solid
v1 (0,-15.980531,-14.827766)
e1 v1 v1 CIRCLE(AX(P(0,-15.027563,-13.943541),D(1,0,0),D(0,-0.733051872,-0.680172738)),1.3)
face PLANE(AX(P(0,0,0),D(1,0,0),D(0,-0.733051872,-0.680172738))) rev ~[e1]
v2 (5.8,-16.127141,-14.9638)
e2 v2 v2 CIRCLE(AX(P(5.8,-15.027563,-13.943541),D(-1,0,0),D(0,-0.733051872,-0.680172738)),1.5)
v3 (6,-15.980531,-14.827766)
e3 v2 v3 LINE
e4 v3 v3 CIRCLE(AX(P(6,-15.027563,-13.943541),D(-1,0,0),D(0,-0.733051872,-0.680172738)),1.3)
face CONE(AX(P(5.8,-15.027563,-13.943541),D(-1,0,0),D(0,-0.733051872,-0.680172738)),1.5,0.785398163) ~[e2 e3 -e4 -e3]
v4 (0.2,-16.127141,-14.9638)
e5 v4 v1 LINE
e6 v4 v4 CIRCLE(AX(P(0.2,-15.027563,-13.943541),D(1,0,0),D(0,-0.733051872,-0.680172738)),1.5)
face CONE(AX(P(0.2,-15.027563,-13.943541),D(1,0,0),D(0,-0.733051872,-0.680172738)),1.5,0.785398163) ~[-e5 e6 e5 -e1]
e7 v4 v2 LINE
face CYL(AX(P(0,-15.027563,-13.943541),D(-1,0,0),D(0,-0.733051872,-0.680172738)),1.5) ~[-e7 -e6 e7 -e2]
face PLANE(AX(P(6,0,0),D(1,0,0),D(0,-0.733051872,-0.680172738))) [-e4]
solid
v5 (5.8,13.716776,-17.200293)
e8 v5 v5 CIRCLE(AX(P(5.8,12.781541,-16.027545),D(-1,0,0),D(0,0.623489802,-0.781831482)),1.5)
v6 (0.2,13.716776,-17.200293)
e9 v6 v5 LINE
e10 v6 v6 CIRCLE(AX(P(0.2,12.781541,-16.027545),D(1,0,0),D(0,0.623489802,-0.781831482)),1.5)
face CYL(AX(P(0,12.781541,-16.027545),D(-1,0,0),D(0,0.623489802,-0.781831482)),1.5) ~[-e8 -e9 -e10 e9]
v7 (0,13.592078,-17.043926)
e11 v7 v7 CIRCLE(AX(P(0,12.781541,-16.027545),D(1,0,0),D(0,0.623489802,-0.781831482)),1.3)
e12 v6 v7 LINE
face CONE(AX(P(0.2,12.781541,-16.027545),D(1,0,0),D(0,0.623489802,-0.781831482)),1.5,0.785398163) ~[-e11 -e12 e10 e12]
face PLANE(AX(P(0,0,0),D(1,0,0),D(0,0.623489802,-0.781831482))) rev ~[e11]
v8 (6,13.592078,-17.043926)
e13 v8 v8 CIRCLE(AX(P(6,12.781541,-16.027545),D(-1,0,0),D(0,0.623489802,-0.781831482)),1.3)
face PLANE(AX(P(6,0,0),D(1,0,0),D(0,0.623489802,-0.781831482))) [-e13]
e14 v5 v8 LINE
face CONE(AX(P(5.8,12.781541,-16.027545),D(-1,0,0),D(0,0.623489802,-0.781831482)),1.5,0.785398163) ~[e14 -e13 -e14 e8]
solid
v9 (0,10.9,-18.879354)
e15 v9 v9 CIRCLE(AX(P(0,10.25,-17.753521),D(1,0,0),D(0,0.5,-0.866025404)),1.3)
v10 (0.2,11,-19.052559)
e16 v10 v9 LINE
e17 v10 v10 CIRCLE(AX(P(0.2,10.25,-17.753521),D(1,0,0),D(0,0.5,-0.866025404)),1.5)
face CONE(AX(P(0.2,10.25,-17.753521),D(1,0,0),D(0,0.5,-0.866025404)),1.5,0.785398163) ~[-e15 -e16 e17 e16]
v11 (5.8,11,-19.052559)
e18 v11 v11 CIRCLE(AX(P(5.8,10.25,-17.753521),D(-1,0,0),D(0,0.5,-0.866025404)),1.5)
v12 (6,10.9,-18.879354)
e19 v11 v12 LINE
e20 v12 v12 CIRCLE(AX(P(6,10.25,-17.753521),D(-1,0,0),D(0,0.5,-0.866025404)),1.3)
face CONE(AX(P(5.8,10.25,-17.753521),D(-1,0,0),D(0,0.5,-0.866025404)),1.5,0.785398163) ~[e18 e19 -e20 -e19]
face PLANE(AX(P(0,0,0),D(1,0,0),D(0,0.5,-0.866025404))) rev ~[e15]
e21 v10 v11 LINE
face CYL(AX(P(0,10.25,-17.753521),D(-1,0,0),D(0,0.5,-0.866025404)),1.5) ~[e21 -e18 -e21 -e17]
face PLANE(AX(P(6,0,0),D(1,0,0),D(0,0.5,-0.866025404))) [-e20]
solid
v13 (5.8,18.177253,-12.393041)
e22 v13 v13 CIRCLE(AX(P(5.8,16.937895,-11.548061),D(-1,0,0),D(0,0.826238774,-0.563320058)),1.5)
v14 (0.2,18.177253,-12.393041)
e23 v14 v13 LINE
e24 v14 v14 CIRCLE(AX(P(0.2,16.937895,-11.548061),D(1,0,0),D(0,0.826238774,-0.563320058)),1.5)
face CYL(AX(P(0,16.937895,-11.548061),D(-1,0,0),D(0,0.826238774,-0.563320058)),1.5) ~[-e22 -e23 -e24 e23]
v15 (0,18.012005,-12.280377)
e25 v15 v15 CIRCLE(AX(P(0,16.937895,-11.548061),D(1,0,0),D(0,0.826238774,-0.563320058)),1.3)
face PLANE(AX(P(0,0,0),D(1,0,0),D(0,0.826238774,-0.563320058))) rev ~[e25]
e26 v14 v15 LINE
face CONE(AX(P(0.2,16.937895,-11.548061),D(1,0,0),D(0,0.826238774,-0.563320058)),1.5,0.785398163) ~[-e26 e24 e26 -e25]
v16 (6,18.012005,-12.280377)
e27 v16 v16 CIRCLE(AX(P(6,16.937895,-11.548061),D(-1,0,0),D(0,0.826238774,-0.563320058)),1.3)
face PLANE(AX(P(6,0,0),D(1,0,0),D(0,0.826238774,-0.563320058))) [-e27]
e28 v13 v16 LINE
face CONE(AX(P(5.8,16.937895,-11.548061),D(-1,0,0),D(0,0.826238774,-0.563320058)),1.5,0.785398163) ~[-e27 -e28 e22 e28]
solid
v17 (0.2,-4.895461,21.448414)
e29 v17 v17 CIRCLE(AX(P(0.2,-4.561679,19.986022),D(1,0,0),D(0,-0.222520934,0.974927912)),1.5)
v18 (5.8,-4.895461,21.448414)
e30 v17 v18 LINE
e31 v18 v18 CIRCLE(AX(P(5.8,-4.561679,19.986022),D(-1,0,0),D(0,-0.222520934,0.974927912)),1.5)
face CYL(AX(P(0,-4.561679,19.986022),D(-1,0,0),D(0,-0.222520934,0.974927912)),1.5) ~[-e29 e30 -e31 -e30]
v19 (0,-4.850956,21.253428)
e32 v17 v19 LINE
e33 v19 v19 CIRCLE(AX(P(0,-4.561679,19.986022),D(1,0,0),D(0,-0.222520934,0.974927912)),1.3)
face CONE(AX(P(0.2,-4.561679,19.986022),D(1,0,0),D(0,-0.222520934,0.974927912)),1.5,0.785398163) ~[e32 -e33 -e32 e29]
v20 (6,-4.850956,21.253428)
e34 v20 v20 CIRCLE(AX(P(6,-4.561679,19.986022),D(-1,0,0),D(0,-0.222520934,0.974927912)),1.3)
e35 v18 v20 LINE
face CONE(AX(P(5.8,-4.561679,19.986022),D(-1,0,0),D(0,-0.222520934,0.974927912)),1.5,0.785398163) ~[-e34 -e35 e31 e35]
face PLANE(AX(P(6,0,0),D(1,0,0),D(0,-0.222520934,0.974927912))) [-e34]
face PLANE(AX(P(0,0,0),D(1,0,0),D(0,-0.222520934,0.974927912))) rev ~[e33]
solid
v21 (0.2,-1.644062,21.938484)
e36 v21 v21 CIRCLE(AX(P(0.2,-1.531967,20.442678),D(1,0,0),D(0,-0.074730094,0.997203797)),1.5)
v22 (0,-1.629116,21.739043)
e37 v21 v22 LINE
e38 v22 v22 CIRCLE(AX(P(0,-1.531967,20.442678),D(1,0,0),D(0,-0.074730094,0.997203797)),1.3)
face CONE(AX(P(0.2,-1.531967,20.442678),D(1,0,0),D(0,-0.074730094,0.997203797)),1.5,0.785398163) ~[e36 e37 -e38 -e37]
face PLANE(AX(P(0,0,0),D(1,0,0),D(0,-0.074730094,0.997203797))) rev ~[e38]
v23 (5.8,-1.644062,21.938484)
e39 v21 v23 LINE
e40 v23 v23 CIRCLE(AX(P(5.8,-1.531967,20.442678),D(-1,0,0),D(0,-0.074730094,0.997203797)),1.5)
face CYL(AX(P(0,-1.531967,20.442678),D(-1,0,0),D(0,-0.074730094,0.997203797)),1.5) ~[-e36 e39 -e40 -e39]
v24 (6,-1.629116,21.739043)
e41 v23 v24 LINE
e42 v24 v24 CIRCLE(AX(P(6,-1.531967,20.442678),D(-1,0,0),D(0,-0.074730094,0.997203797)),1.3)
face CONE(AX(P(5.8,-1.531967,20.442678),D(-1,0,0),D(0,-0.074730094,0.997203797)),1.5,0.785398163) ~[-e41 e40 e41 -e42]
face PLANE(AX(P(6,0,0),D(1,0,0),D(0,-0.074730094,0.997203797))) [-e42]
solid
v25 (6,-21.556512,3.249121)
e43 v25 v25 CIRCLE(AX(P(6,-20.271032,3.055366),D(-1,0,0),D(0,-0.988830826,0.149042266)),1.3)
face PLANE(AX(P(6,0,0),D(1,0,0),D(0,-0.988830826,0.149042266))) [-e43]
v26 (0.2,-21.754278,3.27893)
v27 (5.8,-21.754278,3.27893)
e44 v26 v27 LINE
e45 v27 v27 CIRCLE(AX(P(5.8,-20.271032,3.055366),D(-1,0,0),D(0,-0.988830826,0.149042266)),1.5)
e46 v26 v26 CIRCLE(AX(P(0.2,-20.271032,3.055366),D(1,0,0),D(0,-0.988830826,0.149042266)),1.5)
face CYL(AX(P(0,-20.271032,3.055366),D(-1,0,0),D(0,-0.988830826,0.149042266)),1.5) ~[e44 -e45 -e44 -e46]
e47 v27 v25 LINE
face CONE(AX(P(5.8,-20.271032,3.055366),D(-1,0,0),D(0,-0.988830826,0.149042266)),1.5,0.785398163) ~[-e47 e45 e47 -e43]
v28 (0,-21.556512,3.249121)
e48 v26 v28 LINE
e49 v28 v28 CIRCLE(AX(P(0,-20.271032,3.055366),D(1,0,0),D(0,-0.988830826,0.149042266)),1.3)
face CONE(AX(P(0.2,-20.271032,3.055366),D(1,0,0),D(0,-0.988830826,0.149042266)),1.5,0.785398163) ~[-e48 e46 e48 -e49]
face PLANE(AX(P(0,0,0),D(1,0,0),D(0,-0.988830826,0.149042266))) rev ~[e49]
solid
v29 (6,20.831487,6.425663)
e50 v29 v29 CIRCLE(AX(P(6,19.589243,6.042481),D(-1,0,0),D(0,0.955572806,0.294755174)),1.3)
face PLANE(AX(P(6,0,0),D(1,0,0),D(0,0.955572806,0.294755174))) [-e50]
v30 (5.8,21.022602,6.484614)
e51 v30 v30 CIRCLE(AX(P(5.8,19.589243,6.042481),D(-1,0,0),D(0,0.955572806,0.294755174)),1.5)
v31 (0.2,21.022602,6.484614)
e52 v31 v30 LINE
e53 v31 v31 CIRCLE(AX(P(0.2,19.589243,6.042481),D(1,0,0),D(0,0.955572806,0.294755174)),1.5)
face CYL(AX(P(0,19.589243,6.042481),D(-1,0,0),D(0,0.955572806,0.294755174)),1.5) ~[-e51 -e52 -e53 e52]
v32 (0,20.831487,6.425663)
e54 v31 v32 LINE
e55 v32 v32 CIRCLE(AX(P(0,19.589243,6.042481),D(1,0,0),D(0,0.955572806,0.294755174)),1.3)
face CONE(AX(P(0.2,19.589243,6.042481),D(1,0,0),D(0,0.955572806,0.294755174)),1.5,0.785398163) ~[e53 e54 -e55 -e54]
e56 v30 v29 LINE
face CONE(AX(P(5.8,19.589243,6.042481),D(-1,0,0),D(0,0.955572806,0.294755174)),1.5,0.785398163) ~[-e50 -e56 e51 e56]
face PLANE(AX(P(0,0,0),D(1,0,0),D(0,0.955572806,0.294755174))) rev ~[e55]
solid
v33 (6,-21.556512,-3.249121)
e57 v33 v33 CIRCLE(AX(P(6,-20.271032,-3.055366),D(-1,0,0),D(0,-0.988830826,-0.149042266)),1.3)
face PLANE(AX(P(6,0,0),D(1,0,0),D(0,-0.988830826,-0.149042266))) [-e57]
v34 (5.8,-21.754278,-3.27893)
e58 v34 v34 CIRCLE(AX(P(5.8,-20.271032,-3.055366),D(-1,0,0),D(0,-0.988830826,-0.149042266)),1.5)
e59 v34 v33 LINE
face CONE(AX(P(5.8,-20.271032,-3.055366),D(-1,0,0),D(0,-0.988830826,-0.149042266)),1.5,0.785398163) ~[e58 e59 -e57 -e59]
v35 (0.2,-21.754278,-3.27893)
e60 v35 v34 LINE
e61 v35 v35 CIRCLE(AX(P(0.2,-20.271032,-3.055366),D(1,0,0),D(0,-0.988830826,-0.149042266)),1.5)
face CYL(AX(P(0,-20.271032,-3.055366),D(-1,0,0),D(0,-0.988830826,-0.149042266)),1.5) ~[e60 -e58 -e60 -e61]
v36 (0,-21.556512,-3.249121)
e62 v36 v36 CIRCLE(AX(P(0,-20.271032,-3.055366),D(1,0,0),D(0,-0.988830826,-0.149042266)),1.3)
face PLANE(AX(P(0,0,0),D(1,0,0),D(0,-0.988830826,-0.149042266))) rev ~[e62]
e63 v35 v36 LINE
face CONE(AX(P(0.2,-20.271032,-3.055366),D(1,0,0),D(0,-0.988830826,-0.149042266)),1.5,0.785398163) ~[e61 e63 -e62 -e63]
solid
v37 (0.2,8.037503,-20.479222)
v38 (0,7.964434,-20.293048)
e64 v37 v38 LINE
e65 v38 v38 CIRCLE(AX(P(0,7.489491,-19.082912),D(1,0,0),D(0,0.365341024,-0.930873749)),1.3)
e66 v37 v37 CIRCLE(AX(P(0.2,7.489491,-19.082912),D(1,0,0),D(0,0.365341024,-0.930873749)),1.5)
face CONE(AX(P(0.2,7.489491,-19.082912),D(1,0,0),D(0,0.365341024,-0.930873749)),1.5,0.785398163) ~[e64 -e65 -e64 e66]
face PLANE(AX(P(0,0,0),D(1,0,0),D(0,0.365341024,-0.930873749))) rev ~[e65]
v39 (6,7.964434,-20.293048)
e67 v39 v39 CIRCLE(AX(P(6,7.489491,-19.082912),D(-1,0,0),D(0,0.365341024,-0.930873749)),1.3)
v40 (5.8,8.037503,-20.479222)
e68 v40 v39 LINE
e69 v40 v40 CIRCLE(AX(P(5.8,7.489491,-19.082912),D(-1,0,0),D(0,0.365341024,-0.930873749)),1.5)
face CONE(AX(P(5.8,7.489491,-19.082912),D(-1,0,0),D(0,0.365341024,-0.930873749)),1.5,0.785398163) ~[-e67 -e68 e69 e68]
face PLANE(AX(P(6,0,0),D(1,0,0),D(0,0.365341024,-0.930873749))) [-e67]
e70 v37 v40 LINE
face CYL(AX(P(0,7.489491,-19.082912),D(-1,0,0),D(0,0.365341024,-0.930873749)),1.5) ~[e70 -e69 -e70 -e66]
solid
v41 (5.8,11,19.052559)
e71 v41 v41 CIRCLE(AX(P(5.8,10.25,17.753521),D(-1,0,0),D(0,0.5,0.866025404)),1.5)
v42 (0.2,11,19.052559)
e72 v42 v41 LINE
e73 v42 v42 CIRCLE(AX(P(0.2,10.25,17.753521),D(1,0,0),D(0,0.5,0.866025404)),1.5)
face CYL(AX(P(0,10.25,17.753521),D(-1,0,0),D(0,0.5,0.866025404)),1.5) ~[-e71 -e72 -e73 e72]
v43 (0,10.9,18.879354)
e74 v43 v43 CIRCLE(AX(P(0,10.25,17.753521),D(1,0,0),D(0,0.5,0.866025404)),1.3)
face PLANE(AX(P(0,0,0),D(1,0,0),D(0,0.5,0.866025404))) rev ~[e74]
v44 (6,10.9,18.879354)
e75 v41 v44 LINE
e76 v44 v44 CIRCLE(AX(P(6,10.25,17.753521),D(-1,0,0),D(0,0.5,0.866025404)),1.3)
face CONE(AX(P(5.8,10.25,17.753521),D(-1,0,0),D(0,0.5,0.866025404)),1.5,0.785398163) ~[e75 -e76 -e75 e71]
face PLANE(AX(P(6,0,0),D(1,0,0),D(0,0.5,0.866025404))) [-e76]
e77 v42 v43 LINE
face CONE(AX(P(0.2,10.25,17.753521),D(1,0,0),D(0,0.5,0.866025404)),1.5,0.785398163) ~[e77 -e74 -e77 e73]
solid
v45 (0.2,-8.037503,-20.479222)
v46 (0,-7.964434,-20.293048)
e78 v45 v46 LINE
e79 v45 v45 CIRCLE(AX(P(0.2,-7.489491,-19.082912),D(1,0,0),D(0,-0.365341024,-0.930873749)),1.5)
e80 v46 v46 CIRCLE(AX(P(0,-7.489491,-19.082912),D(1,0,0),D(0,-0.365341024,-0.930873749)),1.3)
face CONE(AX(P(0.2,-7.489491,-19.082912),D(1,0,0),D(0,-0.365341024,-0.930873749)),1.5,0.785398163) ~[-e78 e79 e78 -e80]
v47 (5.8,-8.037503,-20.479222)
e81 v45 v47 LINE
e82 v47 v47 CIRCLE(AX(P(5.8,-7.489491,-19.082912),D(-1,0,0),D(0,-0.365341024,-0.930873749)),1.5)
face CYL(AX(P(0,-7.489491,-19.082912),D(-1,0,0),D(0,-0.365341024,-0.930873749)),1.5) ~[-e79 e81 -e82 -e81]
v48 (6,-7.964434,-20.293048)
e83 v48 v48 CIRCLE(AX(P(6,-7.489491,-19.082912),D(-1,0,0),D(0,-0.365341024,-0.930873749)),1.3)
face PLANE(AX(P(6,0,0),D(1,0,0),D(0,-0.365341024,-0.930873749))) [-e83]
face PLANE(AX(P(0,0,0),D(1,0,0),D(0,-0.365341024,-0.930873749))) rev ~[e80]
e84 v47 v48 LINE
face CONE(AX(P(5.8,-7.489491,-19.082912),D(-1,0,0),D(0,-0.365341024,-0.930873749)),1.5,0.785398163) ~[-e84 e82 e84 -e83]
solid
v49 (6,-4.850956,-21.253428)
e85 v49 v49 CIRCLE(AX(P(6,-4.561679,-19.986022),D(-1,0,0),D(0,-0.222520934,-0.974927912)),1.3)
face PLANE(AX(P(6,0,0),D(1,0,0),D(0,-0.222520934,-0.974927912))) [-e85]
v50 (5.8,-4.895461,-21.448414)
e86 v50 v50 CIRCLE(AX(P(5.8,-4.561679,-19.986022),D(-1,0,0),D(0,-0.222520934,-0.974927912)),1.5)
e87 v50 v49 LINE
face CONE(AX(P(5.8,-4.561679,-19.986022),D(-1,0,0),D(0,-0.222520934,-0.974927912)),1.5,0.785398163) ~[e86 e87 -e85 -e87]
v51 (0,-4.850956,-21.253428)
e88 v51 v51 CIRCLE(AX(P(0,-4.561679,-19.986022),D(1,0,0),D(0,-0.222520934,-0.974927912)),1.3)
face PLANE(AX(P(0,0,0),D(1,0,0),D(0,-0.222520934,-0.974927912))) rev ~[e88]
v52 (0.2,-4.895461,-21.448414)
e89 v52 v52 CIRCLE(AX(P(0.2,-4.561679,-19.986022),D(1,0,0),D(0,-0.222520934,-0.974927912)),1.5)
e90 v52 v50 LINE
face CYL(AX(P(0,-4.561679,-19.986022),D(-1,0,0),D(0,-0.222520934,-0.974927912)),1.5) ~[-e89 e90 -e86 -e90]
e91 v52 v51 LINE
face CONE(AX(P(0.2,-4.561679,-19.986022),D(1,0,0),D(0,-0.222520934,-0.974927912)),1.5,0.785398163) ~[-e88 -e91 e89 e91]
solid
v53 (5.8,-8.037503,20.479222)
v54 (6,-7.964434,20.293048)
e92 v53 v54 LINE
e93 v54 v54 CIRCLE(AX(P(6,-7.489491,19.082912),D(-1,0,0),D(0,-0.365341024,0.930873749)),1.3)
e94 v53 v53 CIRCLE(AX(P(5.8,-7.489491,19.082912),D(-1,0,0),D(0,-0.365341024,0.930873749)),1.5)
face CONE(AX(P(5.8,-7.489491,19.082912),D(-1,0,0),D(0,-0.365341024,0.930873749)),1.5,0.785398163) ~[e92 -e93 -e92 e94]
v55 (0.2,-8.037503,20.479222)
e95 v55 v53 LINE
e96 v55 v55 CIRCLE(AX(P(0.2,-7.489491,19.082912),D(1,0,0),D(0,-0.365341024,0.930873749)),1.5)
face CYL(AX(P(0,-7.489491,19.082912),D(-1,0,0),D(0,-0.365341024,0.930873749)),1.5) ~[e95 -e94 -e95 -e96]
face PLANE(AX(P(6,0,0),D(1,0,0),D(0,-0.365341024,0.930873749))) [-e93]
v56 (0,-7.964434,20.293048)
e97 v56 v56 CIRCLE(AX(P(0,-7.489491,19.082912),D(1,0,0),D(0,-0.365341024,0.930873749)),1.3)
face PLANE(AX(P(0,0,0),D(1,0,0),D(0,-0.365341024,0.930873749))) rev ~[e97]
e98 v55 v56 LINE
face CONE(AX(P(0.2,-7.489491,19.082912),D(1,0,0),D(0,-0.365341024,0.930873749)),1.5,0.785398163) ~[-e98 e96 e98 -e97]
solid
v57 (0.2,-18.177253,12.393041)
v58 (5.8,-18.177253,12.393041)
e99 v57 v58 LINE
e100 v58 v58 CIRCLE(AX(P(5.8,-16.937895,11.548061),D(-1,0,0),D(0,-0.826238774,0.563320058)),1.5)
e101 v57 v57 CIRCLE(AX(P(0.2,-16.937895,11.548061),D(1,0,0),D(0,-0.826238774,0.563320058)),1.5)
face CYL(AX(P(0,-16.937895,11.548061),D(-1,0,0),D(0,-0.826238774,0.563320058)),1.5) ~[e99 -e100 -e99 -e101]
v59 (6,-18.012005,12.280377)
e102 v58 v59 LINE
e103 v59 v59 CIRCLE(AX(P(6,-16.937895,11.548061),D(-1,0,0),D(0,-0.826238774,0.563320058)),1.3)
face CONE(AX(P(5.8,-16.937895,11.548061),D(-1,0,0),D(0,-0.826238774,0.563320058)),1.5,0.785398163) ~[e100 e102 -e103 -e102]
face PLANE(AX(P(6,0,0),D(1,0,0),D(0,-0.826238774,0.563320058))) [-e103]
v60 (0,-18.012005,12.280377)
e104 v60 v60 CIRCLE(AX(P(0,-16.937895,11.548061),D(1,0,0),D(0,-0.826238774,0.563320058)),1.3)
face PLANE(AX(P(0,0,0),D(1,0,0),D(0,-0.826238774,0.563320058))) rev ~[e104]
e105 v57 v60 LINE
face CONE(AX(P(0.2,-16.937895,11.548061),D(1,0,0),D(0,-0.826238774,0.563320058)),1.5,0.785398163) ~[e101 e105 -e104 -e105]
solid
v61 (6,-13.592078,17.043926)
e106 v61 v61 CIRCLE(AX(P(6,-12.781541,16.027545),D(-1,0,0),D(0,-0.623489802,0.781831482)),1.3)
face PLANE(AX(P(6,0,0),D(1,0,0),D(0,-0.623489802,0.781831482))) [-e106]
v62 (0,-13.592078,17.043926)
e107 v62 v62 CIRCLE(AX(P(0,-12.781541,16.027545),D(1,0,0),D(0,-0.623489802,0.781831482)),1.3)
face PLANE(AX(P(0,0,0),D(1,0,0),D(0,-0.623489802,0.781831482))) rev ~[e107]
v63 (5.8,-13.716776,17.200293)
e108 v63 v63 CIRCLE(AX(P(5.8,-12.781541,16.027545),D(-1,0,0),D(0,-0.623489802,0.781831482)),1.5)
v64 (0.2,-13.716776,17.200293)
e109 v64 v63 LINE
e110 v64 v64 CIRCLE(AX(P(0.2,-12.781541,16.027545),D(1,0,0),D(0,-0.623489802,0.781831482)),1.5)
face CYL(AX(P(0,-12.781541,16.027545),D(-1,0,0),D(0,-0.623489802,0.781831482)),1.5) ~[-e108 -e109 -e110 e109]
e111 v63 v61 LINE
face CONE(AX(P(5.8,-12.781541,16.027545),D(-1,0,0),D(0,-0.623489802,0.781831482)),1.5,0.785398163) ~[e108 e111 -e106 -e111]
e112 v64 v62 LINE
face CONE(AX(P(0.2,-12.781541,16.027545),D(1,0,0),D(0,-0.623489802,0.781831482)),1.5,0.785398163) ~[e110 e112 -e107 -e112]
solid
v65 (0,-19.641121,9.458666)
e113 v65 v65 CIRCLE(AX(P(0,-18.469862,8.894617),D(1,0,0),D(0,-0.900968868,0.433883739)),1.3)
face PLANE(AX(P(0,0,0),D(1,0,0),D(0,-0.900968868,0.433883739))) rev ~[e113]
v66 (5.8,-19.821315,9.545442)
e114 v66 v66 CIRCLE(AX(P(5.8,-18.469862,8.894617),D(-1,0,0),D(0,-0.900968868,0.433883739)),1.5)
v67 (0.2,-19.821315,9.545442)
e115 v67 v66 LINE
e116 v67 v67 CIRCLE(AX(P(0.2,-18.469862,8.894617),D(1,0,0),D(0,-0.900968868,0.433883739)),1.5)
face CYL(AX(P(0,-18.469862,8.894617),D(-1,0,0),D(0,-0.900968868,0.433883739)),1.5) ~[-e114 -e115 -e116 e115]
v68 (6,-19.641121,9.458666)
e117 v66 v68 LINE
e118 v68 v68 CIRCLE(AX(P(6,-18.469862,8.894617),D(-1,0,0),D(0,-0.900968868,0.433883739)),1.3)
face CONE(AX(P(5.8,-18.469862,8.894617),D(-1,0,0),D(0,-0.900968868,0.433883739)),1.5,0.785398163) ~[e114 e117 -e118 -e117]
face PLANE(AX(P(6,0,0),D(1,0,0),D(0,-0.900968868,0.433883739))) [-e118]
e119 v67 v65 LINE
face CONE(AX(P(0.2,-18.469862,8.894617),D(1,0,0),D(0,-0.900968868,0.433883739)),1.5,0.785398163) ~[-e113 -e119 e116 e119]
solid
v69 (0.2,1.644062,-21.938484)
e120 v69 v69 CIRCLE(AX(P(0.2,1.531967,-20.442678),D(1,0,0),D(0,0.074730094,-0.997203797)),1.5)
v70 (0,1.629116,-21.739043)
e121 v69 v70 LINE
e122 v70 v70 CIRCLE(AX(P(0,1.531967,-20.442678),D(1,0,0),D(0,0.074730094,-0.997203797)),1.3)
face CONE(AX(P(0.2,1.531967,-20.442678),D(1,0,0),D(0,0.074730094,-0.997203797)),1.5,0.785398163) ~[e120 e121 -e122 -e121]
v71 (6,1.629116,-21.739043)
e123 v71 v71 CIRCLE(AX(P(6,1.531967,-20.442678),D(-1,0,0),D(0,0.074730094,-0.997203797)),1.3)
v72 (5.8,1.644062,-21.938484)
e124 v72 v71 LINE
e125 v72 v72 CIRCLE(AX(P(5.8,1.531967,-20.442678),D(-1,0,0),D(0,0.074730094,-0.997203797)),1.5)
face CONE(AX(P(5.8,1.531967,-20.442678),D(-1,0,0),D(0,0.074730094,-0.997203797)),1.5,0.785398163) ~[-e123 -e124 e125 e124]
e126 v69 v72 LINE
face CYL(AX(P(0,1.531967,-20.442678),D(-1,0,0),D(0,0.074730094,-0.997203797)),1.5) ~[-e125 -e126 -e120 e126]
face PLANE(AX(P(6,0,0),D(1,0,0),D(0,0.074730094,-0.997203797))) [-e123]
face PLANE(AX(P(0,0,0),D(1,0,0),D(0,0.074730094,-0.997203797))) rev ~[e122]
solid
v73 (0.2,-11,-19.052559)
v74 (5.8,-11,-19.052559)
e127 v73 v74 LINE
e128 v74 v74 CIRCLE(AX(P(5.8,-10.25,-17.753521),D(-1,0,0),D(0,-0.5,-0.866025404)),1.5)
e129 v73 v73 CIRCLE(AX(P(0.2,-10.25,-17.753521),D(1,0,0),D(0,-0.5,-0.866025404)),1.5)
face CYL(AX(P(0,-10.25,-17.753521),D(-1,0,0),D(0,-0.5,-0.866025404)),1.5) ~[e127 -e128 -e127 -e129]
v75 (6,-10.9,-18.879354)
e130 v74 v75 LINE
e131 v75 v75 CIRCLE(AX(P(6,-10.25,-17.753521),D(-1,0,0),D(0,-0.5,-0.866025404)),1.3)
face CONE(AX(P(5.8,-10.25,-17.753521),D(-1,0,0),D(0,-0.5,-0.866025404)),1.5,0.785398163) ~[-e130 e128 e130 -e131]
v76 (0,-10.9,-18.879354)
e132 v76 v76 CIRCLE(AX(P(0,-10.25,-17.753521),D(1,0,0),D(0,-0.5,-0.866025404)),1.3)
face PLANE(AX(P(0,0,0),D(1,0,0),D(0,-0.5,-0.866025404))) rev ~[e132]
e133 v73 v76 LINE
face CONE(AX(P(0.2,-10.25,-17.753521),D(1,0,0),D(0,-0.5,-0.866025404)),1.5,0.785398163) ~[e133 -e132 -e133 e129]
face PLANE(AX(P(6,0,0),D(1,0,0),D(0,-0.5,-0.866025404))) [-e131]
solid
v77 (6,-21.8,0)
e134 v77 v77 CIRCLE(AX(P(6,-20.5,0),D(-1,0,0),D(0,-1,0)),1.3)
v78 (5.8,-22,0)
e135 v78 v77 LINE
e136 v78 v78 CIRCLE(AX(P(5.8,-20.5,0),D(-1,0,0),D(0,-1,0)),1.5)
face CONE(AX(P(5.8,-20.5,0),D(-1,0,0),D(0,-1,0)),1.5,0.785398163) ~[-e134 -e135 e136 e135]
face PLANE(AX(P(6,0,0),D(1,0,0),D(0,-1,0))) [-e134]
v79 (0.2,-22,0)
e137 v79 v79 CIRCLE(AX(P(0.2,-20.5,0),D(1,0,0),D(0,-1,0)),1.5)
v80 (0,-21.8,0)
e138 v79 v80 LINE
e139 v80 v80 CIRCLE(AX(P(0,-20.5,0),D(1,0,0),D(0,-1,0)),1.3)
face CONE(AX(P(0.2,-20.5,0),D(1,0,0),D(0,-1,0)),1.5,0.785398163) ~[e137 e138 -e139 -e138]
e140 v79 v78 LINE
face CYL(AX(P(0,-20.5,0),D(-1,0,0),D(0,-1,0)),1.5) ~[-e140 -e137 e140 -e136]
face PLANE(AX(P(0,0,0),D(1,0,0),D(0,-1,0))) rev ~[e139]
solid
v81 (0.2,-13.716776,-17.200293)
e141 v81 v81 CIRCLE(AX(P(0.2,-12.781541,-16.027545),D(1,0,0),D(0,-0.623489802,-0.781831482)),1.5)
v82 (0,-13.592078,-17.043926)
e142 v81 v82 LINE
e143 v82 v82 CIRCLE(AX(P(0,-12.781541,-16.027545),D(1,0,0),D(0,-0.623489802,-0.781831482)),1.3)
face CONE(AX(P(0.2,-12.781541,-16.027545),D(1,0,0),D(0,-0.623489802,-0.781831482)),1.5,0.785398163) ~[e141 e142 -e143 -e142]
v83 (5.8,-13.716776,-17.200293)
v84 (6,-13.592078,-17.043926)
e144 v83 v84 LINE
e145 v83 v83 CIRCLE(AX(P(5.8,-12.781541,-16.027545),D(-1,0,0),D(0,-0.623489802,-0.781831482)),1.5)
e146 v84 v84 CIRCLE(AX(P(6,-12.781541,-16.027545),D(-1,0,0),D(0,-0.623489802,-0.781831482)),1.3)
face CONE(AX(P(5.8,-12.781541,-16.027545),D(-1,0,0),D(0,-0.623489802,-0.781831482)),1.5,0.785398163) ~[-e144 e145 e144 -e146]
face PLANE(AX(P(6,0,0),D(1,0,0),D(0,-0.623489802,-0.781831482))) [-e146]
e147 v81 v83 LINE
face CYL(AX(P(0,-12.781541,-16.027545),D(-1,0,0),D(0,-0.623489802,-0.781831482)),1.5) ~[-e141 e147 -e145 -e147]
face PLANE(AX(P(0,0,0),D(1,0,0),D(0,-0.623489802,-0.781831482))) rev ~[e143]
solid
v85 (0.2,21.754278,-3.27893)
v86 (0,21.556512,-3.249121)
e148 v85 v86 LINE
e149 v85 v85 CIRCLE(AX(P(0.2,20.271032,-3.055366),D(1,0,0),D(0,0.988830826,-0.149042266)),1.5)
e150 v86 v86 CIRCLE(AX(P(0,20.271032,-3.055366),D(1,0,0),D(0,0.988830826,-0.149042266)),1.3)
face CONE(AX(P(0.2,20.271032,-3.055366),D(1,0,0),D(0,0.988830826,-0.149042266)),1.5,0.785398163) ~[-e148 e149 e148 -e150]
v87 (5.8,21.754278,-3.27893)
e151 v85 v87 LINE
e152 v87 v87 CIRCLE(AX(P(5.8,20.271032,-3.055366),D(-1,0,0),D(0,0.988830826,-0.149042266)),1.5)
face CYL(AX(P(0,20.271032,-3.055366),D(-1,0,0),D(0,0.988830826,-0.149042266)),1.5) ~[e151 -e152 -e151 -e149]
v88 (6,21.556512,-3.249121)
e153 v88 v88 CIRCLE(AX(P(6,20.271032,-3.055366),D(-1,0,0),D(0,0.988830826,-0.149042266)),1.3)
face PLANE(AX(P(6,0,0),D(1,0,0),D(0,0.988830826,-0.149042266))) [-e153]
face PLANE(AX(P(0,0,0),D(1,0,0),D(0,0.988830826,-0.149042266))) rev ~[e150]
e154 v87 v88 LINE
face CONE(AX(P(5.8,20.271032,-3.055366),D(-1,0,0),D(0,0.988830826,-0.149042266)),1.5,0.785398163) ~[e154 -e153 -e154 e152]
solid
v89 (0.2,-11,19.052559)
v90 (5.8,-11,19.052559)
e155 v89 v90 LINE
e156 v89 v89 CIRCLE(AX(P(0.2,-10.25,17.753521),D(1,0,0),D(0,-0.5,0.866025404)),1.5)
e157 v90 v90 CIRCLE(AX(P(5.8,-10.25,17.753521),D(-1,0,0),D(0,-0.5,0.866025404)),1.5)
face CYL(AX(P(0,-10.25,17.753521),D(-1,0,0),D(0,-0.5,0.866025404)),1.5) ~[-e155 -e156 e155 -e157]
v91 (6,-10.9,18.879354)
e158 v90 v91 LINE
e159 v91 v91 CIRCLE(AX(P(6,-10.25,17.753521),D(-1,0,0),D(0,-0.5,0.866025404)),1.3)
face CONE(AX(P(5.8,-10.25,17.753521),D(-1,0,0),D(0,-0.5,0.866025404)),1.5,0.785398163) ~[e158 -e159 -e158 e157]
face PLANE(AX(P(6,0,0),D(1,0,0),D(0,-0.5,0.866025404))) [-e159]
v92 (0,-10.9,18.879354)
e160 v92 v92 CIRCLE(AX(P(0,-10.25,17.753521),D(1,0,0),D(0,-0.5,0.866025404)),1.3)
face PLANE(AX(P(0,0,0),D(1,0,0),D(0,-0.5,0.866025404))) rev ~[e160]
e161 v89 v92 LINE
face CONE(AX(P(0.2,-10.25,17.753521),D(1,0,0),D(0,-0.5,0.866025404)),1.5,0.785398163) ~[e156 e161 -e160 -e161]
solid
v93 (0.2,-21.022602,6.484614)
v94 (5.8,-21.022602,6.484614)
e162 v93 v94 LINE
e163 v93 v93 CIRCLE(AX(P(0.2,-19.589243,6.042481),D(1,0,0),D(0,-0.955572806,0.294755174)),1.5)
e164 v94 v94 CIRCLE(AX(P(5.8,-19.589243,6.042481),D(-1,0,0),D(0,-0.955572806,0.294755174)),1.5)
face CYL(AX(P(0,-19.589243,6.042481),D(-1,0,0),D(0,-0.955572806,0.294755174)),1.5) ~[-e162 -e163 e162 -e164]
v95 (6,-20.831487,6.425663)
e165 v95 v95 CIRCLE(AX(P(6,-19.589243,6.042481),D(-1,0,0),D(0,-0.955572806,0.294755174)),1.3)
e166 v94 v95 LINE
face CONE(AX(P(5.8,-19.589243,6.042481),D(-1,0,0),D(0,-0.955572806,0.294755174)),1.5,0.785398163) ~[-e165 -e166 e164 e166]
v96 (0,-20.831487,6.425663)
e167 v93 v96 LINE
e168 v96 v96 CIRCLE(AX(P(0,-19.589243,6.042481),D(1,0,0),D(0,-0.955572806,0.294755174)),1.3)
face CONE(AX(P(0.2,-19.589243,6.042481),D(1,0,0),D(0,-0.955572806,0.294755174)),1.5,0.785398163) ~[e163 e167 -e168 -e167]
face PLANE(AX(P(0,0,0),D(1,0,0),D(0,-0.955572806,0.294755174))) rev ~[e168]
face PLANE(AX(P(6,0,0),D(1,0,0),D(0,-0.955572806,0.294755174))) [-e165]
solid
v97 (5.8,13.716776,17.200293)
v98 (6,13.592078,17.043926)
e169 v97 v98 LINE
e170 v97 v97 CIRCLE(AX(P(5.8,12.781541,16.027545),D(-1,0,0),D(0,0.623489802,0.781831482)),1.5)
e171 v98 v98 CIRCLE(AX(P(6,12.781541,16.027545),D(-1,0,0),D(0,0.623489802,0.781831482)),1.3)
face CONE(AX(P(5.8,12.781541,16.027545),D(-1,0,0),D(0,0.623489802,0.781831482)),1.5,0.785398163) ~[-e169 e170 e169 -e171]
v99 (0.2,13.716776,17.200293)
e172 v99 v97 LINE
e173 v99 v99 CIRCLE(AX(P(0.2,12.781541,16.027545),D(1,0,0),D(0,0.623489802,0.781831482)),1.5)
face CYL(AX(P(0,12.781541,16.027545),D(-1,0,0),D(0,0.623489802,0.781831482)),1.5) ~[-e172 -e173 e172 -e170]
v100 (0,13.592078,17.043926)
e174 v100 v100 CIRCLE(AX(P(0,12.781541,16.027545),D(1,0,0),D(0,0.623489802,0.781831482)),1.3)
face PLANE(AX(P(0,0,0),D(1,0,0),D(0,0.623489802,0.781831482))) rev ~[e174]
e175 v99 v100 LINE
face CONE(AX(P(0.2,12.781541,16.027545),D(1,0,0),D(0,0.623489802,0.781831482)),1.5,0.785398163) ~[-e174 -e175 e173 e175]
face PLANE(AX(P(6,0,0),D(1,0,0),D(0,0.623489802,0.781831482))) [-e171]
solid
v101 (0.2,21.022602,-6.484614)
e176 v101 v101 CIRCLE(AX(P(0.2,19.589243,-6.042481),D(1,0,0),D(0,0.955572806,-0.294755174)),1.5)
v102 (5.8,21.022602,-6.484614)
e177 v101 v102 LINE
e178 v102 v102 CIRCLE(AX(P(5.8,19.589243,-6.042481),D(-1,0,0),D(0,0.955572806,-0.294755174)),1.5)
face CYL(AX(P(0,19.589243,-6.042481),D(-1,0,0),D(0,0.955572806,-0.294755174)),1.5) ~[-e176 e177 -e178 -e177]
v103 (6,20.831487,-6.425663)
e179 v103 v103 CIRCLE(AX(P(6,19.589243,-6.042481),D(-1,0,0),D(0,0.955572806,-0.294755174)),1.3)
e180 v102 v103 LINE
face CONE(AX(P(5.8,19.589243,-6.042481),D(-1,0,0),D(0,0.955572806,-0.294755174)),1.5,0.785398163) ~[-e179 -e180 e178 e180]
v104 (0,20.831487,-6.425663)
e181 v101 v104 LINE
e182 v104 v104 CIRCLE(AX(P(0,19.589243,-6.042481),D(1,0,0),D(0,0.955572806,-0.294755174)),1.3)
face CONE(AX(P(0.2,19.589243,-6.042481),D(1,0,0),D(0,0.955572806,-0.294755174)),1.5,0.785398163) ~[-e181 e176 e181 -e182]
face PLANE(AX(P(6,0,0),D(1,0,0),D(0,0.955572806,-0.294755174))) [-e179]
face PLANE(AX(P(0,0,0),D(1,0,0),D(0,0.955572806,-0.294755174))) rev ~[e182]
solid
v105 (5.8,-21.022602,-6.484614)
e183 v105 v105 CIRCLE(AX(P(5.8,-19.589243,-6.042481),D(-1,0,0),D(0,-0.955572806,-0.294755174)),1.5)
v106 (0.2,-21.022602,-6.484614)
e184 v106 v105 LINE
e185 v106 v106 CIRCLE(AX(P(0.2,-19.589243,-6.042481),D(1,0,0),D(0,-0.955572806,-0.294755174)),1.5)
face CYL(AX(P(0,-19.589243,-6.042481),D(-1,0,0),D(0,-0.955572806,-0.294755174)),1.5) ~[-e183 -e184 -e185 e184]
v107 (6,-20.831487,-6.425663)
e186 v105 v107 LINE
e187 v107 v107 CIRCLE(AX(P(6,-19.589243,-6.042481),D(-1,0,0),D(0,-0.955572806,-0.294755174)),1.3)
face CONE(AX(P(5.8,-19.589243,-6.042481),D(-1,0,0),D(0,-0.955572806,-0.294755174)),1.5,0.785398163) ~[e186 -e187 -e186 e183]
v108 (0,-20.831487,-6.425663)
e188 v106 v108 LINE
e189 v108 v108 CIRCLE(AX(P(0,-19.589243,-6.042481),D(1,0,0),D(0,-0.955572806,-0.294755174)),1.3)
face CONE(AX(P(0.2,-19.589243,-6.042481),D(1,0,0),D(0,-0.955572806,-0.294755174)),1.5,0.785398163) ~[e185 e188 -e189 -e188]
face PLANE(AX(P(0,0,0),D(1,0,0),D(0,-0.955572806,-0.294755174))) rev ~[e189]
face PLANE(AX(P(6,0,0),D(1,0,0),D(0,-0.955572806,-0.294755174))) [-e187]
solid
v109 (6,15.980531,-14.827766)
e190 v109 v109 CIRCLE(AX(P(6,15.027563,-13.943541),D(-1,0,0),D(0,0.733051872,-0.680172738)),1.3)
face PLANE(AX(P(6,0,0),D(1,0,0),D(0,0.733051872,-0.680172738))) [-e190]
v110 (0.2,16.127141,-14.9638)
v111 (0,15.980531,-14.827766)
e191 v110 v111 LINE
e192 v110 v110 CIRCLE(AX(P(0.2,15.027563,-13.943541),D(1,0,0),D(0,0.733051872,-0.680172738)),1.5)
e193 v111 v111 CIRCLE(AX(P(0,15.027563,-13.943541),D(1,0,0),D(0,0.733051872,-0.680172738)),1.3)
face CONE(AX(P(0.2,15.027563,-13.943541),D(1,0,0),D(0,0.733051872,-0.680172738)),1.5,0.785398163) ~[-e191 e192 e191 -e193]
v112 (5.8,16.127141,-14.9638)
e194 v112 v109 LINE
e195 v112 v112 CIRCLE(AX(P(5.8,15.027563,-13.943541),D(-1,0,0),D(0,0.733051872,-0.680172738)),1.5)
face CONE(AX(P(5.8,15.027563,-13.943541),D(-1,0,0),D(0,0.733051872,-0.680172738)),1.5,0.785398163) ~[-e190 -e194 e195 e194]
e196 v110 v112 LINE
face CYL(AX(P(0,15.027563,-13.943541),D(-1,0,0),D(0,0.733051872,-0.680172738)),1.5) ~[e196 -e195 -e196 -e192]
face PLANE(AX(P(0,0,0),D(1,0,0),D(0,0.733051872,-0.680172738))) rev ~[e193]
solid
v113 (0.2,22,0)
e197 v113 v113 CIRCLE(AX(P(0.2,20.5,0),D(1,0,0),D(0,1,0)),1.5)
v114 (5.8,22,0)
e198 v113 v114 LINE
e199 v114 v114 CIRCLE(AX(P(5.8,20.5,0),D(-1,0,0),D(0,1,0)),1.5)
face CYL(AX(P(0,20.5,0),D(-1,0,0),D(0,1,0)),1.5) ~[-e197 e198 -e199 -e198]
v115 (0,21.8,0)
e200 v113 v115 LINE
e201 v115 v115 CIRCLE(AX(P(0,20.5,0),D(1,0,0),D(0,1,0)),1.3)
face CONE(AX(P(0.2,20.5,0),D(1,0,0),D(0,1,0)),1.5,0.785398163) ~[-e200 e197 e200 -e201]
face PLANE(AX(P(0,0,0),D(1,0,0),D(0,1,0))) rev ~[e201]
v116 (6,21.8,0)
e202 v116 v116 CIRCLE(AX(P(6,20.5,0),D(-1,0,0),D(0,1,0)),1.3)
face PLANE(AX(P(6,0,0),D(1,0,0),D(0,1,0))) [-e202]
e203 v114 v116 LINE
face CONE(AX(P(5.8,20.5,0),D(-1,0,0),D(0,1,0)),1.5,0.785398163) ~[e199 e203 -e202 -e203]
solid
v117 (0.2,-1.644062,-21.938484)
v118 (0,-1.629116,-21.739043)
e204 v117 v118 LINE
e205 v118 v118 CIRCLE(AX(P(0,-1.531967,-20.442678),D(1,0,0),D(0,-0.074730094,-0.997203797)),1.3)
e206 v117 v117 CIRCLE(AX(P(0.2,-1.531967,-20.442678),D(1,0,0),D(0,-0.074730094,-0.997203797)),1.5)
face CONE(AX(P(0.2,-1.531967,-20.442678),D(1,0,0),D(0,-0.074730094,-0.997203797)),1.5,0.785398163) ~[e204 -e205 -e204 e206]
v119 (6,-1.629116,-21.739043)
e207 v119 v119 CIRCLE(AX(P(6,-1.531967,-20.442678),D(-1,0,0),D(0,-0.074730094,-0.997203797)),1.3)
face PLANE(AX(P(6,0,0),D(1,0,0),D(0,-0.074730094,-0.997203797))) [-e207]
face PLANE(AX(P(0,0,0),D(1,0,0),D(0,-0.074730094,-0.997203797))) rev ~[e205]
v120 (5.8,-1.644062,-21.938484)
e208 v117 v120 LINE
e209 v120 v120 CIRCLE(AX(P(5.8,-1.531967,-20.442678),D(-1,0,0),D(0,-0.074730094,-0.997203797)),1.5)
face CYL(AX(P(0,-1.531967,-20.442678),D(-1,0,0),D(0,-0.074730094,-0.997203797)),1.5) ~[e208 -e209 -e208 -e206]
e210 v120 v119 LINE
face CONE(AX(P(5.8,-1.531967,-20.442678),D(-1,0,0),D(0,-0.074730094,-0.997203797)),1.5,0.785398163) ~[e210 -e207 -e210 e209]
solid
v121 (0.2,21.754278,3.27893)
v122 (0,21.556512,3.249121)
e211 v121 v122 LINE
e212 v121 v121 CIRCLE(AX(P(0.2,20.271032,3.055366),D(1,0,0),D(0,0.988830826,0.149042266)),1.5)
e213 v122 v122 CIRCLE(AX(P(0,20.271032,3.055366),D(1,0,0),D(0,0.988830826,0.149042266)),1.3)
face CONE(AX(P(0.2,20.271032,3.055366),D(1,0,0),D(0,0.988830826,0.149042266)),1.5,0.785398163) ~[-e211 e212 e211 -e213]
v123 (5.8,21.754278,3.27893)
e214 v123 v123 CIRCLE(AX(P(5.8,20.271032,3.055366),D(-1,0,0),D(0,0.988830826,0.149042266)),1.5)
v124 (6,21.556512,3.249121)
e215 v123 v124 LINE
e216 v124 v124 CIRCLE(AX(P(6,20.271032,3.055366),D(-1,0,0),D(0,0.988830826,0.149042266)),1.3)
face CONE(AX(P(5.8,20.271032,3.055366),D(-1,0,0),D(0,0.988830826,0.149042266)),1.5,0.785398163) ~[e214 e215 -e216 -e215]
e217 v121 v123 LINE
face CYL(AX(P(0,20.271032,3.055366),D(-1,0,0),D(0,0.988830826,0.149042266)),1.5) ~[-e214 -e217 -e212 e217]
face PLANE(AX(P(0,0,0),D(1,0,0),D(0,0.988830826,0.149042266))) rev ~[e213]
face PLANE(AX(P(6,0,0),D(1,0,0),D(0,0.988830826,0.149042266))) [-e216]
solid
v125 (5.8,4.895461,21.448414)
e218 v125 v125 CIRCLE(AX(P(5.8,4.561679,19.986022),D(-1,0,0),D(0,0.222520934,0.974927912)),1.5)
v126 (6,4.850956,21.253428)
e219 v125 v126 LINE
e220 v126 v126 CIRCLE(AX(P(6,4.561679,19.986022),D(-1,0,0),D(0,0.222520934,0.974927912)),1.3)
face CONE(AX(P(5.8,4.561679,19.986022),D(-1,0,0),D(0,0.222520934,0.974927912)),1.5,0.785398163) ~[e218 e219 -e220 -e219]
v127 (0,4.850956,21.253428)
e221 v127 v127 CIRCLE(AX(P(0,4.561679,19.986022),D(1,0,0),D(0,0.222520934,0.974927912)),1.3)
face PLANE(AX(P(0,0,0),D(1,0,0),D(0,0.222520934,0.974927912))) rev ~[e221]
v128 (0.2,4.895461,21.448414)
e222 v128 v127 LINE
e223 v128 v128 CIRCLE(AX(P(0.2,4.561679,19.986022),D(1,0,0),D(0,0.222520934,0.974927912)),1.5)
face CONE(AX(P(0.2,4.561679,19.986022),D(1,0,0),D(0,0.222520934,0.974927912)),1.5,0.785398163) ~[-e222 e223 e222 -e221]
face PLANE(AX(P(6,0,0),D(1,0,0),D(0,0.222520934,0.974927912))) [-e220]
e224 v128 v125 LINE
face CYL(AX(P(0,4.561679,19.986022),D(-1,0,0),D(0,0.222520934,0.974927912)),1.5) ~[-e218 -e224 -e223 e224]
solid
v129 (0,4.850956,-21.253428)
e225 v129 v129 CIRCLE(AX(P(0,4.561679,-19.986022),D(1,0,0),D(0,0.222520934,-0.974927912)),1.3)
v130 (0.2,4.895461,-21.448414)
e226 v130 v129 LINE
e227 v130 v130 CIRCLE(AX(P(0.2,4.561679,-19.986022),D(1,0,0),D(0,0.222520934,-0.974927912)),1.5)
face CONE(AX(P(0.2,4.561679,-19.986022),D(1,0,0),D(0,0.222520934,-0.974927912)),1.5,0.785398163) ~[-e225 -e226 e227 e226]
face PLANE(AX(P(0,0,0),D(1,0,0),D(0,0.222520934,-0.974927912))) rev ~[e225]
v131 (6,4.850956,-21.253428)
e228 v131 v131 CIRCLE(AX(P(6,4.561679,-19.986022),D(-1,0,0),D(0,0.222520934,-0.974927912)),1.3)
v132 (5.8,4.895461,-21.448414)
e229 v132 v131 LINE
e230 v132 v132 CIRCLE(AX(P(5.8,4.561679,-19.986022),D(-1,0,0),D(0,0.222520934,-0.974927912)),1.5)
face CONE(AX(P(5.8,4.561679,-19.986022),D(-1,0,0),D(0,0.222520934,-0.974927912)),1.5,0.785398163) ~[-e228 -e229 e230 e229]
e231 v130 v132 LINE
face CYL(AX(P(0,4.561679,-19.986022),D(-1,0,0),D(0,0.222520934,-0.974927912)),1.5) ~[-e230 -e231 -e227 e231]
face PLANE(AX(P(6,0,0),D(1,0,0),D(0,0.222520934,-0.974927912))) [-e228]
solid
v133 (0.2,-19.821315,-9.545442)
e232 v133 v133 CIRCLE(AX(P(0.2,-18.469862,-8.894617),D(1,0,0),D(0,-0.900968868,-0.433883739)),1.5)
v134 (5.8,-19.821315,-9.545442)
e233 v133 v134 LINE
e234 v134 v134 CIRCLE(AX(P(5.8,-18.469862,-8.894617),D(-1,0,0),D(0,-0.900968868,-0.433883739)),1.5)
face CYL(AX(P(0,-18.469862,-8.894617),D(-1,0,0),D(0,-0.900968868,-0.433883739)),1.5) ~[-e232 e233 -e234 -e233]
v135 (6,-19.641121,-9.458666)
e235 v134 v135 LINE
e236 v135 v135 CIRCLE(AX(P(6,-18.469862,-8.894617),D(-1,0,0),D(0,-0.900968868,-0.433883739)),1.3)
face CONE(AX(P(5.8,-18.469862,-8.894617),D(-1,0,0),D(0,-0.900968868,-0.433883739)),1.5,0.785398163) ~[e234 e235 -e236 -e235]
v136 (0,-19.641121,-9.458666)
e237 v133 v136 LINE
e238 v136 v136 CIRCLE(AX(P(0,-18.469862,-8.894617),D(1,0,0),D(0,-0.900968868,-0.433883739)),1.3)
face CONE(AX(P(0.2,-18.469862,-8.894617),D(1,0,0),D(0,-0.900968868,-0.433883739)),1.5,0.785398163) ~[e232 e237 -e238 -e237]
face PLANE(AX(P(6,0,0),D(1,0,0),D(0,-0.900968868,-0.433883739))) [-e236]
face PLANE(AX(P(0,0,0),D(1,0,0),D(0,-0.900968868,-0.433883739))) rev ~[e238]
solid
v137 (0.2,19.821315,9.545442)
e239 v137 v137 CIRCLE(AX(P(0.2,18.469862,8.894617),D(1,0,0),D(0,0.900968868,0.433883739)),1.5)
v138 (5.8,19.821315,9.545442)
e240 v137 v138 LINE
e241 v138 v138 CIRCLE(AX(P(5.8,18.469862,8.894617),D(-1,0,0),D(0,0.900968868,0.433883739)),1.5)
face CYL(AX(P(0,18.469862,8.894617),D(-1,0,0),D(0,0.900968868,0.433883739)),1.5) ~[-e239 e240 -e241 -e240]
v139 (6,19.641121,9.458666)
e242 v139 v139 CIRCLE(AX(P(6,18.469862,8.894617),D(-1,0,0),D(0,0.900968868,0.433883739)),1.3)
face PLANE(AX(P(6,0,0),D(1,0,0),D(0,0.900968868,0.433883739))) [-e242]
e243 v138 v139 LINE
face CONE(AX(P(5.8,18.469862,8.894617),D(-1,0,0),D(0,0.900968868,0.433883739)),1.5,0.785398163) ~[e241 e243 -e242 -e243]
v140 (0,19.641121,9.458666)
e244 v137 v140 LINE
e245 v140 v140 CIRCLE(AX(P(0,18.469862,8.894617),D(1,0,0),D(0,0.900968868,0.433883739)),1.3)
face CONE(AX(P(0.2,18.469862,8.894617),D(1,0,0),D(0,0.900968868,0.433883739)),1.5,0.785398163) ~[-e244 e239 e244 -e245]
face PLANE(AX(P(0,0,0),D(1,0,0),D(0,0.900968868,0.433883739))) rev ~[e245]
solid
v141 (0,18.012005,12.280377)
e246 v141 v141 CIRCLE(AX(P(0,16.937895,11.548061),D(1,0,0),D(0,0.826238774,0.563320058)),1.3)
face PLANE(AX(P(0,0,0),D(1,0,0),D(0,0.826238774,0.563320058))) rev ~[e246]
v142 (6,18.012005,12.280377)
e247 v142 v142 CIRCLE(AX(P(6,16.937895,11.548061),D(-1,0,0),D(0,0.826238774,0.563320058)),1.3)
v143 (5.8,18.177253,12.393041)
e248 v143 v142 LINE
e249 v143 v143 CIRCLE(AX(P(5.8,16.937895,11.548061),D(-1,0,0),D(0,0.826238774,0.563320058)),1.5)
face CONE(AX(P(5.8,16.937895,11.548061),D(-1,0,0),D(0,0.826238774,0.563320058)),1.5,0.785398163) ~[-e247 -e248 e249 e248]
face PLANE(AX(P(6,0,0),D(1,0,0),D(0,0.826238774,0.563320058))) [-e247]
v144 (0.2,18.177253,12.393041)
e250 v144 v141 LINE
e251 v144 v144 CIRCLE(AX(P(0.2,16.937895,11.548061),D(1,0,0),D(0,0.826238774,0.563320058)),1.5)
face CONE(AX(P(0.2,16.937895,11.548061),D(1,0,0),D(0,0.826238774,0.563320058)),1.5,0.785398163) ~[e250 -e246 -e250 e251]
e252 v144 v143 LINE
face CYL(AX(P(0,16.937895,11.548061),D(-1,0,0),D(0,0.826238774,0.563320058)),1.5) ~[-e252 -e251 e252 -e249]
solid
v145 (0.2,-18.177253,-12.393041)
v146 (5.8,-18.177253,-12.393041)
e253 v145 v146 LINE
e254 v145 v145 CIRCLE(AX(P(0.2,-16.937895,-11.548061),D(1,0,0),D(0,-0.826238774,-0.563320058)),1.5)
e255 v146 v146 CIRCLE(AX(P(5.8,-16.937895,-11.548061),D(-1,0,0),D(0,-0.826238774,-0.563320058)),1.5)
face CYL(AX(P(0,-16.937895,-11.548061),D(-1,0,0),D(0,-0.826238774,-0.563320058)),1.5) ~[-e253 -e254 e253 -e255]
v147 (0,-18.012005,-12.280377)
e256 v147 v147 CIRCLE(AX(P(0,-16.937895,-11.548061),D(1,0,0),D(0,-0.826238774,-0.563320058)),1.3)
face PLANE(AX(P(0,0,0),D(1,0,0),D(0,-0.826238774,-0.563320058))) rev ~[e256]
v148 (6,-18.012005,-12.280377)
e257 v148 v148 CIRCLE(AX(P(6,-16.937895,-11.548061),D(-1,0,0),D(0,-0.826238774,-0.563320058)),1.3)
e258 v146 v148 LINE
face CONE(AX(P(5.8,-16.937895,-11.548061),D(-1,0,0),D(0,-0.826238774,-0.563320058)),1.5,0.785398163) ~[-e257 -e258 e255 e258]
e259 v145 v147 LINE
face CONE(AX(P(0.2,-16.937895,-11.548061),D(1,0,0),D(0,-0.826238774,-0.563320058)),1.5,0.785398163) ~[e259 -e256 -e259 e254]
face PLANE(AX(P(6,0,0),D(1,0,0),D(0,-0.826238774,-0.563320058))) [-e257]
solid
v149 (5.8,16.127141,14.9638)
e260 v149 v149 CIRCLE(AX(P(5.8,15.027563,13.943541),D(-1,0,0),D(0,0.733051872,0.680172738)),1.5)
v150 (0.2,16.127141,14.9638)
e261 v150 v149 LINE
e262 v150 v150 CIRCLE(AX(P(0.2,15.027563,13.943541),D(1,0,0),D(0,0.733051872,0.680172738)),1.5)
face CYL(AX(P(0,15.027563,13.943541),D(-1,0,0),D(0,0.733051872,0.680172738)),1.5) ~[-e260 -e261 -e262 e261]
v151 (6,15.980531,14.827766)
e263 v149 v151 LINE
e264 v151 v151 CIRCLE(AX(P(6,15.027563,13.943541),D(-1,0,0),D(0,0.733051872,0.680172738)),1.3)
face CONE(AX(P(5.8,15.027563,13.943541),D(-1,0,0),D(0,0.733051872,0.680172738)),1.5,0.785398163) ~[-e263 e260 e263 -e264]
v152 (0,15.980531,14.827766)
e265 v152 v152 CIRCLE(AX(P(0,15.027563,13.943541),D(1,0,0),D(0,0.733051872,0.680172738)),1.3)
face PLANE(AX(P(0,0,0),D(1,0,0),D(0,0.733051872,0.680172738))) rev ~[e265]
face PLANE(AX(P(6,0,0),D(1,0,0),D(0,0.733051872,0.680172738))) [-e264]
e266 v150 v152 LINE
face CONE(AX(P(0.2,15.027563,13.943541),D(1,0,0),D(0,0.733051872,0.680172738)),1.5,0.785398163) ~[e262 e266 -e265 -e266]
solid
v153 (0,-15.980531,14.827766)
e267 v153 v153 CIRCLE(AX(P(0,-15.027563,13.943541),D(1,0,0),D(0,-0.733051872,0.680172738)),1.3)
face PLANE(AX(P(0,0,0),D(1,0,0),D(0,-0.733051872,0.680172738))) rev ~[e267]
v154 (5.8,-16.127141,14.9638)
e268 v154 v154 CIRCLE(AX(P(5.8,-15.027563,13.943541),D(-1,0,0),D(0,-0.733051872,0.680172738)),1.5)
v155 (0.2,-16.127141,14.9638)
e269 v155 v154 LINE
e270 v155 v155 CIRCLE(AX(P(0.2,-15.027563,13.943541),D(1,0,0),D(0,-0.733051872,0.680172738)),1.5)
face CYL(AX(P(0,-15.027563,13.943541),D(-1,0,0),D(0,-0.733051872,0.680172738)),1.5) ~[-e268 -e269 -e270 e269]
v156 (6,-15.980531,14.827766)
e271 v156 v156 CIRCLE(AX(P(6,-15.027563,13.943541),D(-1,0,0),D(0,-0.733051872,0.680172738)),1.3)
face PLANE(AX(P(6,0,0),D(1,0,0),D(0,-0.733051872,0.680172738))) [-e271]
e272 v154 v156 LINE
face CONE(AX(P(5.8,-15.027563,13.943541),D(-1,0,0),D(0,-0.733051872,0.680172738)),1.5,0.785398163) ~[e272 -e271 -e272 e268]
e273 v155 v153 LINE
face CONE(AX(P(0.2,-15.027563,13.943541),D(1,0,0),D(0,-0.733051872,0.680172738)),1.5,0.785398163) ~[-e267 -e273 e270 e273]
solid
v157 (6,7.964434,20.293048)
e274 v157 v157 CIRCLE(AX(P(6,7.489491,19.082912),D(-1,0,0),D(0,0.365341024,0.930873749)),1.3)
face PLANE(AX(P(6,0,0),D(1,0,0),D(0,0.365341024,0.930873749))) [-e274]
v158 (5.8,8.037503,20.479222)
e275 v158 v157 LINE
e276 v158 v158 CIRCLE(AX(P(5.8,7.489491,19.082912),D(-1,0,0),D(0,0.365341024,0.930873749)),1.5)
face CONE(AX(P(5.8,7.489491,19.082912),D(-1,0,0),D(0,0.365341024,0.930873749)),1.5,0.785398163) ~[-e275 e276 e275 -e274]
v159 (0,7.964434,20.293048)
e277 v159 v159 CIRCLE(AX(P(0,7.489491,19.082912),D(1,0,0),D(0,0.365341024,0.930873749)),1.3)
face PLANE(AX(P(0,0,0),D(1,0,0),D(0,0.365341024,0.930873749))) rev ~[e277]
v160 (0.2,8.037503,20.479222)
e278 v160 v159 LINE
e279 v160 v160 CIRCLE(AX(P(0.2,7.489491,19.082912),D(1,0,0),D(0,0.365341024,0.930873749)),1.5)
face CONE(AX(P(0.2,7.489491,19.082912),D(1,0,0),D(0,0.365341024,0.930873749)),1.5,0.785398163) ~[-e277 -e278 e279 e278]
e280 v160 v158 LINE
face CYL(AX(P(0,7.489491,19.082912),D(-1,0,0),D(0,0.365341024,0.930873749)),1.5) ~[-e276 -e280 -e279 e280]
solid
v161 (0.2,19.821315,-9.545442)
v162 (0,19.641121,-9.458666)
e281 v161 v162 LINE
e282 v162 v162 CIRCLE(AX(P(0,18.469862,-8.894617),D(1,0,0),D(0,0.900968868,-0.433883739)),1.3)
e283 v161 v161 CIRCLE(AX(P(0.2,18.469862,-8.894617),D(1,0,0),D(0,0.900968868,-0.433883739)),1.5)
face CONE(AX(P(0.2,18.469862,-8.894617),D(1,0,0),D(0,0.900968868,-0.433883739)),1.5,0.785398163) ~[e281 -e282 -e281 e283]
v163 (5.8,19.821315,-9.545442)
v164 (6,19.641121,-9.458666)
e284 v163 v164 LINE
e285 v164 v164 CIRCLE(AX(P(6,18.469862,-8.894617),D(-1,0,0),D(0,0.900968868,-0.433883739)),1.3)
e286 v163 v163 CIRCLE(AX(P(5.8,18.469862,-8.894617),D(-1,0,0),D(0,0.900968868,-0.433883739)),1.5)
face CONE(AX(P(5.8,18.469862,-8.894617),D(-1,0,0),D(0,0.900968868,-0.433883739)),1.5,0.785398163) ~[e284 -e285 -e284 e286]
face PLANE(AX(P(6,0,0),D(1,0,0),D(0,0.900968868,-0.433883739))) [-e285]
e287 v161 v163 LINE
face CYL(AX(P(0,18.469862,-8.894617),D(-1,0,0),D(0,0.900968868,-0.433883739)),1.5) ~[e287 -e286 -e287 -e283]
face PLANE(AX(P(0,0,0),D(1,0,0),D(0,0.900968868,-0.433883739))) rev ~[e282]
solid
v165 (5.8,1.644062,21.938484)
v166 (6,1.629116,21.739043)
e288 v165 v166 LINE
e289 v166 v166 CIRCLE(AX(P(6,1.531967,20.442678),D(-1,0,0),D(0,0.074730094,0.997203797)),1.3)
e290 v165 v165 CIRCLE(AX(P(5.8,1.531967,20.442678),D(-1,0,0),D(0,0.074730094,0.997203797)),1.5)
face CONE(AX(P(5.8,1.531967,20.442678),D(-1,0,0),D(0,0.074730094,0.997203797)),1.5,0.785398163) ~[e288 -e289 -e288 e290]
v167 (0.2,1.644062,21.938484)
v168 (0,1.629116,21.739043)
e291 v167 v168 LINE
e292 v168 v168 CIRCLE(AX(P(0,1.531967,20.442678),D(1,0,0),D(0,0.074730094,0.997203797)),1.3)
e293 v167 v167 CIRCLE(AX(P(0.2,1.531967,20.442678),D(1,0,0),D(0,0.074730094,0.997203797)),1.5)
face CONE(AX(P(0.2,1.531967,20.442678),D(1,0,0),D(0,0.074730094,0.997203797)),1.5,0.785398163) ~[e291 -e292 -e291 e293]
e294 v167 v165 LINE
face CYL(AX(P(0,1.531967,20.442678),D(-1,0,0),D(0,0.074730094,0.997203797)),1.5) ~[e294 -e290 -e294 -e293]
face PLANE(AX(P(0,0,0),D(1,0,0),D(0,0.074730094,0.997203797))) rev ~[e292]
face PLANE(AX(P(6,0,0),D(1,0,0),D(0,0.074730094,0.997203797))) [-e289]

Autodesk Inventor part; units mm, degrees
ref_plane "YZ Plane" through (0, 0, 0) normal (1, 0, 0) x (0, 1, 0)
ref_plane "XZ Plane" through (0, 0, 0) normal (0, 1, 0) x (-1, 0, 0)
ref_plane "XY Plane" through (0, 0, 0) normal (0, 0, 1) x (1, 0, 0)
sketch "Sketch3" plane through (0, 0, 0) normal (1, 0, 0) x (0, 1, 0)
  circle A0 centre (0, 0) radius 20.5
  circle A1 centre (20.5, 0) radius 1.5
  dimension "d5" = 41
  dimension "d6" = 3
extrude "Extrusion2" add sketch "Sketch3" along normal blind 6 contours A0 A1 | A0 A1 picked at (20.029, 0.34) picked at (20.9462, 0.3883)
chamfer "Chamfer1" distance 0.2 angle 45 2 edges at (6, 19, 0) (0, 19, 0)
pattern_circular "Circular Pattern1" count 42 over 360 about axis through (-10, 0, 0) along (1, 0, 0) of "Extrusion2", "Chamfer1"
sketch "Sketch4" plane through (6, 12.7815, 16.0275) normal (1, 0, 0) x (0, 0, -1)
  point P0 (16.0275, -12.7815)
  point P1 (16.0275, -12.7815)
properties part number "bearing_stifts_antenna" material "Stainless Steel"
